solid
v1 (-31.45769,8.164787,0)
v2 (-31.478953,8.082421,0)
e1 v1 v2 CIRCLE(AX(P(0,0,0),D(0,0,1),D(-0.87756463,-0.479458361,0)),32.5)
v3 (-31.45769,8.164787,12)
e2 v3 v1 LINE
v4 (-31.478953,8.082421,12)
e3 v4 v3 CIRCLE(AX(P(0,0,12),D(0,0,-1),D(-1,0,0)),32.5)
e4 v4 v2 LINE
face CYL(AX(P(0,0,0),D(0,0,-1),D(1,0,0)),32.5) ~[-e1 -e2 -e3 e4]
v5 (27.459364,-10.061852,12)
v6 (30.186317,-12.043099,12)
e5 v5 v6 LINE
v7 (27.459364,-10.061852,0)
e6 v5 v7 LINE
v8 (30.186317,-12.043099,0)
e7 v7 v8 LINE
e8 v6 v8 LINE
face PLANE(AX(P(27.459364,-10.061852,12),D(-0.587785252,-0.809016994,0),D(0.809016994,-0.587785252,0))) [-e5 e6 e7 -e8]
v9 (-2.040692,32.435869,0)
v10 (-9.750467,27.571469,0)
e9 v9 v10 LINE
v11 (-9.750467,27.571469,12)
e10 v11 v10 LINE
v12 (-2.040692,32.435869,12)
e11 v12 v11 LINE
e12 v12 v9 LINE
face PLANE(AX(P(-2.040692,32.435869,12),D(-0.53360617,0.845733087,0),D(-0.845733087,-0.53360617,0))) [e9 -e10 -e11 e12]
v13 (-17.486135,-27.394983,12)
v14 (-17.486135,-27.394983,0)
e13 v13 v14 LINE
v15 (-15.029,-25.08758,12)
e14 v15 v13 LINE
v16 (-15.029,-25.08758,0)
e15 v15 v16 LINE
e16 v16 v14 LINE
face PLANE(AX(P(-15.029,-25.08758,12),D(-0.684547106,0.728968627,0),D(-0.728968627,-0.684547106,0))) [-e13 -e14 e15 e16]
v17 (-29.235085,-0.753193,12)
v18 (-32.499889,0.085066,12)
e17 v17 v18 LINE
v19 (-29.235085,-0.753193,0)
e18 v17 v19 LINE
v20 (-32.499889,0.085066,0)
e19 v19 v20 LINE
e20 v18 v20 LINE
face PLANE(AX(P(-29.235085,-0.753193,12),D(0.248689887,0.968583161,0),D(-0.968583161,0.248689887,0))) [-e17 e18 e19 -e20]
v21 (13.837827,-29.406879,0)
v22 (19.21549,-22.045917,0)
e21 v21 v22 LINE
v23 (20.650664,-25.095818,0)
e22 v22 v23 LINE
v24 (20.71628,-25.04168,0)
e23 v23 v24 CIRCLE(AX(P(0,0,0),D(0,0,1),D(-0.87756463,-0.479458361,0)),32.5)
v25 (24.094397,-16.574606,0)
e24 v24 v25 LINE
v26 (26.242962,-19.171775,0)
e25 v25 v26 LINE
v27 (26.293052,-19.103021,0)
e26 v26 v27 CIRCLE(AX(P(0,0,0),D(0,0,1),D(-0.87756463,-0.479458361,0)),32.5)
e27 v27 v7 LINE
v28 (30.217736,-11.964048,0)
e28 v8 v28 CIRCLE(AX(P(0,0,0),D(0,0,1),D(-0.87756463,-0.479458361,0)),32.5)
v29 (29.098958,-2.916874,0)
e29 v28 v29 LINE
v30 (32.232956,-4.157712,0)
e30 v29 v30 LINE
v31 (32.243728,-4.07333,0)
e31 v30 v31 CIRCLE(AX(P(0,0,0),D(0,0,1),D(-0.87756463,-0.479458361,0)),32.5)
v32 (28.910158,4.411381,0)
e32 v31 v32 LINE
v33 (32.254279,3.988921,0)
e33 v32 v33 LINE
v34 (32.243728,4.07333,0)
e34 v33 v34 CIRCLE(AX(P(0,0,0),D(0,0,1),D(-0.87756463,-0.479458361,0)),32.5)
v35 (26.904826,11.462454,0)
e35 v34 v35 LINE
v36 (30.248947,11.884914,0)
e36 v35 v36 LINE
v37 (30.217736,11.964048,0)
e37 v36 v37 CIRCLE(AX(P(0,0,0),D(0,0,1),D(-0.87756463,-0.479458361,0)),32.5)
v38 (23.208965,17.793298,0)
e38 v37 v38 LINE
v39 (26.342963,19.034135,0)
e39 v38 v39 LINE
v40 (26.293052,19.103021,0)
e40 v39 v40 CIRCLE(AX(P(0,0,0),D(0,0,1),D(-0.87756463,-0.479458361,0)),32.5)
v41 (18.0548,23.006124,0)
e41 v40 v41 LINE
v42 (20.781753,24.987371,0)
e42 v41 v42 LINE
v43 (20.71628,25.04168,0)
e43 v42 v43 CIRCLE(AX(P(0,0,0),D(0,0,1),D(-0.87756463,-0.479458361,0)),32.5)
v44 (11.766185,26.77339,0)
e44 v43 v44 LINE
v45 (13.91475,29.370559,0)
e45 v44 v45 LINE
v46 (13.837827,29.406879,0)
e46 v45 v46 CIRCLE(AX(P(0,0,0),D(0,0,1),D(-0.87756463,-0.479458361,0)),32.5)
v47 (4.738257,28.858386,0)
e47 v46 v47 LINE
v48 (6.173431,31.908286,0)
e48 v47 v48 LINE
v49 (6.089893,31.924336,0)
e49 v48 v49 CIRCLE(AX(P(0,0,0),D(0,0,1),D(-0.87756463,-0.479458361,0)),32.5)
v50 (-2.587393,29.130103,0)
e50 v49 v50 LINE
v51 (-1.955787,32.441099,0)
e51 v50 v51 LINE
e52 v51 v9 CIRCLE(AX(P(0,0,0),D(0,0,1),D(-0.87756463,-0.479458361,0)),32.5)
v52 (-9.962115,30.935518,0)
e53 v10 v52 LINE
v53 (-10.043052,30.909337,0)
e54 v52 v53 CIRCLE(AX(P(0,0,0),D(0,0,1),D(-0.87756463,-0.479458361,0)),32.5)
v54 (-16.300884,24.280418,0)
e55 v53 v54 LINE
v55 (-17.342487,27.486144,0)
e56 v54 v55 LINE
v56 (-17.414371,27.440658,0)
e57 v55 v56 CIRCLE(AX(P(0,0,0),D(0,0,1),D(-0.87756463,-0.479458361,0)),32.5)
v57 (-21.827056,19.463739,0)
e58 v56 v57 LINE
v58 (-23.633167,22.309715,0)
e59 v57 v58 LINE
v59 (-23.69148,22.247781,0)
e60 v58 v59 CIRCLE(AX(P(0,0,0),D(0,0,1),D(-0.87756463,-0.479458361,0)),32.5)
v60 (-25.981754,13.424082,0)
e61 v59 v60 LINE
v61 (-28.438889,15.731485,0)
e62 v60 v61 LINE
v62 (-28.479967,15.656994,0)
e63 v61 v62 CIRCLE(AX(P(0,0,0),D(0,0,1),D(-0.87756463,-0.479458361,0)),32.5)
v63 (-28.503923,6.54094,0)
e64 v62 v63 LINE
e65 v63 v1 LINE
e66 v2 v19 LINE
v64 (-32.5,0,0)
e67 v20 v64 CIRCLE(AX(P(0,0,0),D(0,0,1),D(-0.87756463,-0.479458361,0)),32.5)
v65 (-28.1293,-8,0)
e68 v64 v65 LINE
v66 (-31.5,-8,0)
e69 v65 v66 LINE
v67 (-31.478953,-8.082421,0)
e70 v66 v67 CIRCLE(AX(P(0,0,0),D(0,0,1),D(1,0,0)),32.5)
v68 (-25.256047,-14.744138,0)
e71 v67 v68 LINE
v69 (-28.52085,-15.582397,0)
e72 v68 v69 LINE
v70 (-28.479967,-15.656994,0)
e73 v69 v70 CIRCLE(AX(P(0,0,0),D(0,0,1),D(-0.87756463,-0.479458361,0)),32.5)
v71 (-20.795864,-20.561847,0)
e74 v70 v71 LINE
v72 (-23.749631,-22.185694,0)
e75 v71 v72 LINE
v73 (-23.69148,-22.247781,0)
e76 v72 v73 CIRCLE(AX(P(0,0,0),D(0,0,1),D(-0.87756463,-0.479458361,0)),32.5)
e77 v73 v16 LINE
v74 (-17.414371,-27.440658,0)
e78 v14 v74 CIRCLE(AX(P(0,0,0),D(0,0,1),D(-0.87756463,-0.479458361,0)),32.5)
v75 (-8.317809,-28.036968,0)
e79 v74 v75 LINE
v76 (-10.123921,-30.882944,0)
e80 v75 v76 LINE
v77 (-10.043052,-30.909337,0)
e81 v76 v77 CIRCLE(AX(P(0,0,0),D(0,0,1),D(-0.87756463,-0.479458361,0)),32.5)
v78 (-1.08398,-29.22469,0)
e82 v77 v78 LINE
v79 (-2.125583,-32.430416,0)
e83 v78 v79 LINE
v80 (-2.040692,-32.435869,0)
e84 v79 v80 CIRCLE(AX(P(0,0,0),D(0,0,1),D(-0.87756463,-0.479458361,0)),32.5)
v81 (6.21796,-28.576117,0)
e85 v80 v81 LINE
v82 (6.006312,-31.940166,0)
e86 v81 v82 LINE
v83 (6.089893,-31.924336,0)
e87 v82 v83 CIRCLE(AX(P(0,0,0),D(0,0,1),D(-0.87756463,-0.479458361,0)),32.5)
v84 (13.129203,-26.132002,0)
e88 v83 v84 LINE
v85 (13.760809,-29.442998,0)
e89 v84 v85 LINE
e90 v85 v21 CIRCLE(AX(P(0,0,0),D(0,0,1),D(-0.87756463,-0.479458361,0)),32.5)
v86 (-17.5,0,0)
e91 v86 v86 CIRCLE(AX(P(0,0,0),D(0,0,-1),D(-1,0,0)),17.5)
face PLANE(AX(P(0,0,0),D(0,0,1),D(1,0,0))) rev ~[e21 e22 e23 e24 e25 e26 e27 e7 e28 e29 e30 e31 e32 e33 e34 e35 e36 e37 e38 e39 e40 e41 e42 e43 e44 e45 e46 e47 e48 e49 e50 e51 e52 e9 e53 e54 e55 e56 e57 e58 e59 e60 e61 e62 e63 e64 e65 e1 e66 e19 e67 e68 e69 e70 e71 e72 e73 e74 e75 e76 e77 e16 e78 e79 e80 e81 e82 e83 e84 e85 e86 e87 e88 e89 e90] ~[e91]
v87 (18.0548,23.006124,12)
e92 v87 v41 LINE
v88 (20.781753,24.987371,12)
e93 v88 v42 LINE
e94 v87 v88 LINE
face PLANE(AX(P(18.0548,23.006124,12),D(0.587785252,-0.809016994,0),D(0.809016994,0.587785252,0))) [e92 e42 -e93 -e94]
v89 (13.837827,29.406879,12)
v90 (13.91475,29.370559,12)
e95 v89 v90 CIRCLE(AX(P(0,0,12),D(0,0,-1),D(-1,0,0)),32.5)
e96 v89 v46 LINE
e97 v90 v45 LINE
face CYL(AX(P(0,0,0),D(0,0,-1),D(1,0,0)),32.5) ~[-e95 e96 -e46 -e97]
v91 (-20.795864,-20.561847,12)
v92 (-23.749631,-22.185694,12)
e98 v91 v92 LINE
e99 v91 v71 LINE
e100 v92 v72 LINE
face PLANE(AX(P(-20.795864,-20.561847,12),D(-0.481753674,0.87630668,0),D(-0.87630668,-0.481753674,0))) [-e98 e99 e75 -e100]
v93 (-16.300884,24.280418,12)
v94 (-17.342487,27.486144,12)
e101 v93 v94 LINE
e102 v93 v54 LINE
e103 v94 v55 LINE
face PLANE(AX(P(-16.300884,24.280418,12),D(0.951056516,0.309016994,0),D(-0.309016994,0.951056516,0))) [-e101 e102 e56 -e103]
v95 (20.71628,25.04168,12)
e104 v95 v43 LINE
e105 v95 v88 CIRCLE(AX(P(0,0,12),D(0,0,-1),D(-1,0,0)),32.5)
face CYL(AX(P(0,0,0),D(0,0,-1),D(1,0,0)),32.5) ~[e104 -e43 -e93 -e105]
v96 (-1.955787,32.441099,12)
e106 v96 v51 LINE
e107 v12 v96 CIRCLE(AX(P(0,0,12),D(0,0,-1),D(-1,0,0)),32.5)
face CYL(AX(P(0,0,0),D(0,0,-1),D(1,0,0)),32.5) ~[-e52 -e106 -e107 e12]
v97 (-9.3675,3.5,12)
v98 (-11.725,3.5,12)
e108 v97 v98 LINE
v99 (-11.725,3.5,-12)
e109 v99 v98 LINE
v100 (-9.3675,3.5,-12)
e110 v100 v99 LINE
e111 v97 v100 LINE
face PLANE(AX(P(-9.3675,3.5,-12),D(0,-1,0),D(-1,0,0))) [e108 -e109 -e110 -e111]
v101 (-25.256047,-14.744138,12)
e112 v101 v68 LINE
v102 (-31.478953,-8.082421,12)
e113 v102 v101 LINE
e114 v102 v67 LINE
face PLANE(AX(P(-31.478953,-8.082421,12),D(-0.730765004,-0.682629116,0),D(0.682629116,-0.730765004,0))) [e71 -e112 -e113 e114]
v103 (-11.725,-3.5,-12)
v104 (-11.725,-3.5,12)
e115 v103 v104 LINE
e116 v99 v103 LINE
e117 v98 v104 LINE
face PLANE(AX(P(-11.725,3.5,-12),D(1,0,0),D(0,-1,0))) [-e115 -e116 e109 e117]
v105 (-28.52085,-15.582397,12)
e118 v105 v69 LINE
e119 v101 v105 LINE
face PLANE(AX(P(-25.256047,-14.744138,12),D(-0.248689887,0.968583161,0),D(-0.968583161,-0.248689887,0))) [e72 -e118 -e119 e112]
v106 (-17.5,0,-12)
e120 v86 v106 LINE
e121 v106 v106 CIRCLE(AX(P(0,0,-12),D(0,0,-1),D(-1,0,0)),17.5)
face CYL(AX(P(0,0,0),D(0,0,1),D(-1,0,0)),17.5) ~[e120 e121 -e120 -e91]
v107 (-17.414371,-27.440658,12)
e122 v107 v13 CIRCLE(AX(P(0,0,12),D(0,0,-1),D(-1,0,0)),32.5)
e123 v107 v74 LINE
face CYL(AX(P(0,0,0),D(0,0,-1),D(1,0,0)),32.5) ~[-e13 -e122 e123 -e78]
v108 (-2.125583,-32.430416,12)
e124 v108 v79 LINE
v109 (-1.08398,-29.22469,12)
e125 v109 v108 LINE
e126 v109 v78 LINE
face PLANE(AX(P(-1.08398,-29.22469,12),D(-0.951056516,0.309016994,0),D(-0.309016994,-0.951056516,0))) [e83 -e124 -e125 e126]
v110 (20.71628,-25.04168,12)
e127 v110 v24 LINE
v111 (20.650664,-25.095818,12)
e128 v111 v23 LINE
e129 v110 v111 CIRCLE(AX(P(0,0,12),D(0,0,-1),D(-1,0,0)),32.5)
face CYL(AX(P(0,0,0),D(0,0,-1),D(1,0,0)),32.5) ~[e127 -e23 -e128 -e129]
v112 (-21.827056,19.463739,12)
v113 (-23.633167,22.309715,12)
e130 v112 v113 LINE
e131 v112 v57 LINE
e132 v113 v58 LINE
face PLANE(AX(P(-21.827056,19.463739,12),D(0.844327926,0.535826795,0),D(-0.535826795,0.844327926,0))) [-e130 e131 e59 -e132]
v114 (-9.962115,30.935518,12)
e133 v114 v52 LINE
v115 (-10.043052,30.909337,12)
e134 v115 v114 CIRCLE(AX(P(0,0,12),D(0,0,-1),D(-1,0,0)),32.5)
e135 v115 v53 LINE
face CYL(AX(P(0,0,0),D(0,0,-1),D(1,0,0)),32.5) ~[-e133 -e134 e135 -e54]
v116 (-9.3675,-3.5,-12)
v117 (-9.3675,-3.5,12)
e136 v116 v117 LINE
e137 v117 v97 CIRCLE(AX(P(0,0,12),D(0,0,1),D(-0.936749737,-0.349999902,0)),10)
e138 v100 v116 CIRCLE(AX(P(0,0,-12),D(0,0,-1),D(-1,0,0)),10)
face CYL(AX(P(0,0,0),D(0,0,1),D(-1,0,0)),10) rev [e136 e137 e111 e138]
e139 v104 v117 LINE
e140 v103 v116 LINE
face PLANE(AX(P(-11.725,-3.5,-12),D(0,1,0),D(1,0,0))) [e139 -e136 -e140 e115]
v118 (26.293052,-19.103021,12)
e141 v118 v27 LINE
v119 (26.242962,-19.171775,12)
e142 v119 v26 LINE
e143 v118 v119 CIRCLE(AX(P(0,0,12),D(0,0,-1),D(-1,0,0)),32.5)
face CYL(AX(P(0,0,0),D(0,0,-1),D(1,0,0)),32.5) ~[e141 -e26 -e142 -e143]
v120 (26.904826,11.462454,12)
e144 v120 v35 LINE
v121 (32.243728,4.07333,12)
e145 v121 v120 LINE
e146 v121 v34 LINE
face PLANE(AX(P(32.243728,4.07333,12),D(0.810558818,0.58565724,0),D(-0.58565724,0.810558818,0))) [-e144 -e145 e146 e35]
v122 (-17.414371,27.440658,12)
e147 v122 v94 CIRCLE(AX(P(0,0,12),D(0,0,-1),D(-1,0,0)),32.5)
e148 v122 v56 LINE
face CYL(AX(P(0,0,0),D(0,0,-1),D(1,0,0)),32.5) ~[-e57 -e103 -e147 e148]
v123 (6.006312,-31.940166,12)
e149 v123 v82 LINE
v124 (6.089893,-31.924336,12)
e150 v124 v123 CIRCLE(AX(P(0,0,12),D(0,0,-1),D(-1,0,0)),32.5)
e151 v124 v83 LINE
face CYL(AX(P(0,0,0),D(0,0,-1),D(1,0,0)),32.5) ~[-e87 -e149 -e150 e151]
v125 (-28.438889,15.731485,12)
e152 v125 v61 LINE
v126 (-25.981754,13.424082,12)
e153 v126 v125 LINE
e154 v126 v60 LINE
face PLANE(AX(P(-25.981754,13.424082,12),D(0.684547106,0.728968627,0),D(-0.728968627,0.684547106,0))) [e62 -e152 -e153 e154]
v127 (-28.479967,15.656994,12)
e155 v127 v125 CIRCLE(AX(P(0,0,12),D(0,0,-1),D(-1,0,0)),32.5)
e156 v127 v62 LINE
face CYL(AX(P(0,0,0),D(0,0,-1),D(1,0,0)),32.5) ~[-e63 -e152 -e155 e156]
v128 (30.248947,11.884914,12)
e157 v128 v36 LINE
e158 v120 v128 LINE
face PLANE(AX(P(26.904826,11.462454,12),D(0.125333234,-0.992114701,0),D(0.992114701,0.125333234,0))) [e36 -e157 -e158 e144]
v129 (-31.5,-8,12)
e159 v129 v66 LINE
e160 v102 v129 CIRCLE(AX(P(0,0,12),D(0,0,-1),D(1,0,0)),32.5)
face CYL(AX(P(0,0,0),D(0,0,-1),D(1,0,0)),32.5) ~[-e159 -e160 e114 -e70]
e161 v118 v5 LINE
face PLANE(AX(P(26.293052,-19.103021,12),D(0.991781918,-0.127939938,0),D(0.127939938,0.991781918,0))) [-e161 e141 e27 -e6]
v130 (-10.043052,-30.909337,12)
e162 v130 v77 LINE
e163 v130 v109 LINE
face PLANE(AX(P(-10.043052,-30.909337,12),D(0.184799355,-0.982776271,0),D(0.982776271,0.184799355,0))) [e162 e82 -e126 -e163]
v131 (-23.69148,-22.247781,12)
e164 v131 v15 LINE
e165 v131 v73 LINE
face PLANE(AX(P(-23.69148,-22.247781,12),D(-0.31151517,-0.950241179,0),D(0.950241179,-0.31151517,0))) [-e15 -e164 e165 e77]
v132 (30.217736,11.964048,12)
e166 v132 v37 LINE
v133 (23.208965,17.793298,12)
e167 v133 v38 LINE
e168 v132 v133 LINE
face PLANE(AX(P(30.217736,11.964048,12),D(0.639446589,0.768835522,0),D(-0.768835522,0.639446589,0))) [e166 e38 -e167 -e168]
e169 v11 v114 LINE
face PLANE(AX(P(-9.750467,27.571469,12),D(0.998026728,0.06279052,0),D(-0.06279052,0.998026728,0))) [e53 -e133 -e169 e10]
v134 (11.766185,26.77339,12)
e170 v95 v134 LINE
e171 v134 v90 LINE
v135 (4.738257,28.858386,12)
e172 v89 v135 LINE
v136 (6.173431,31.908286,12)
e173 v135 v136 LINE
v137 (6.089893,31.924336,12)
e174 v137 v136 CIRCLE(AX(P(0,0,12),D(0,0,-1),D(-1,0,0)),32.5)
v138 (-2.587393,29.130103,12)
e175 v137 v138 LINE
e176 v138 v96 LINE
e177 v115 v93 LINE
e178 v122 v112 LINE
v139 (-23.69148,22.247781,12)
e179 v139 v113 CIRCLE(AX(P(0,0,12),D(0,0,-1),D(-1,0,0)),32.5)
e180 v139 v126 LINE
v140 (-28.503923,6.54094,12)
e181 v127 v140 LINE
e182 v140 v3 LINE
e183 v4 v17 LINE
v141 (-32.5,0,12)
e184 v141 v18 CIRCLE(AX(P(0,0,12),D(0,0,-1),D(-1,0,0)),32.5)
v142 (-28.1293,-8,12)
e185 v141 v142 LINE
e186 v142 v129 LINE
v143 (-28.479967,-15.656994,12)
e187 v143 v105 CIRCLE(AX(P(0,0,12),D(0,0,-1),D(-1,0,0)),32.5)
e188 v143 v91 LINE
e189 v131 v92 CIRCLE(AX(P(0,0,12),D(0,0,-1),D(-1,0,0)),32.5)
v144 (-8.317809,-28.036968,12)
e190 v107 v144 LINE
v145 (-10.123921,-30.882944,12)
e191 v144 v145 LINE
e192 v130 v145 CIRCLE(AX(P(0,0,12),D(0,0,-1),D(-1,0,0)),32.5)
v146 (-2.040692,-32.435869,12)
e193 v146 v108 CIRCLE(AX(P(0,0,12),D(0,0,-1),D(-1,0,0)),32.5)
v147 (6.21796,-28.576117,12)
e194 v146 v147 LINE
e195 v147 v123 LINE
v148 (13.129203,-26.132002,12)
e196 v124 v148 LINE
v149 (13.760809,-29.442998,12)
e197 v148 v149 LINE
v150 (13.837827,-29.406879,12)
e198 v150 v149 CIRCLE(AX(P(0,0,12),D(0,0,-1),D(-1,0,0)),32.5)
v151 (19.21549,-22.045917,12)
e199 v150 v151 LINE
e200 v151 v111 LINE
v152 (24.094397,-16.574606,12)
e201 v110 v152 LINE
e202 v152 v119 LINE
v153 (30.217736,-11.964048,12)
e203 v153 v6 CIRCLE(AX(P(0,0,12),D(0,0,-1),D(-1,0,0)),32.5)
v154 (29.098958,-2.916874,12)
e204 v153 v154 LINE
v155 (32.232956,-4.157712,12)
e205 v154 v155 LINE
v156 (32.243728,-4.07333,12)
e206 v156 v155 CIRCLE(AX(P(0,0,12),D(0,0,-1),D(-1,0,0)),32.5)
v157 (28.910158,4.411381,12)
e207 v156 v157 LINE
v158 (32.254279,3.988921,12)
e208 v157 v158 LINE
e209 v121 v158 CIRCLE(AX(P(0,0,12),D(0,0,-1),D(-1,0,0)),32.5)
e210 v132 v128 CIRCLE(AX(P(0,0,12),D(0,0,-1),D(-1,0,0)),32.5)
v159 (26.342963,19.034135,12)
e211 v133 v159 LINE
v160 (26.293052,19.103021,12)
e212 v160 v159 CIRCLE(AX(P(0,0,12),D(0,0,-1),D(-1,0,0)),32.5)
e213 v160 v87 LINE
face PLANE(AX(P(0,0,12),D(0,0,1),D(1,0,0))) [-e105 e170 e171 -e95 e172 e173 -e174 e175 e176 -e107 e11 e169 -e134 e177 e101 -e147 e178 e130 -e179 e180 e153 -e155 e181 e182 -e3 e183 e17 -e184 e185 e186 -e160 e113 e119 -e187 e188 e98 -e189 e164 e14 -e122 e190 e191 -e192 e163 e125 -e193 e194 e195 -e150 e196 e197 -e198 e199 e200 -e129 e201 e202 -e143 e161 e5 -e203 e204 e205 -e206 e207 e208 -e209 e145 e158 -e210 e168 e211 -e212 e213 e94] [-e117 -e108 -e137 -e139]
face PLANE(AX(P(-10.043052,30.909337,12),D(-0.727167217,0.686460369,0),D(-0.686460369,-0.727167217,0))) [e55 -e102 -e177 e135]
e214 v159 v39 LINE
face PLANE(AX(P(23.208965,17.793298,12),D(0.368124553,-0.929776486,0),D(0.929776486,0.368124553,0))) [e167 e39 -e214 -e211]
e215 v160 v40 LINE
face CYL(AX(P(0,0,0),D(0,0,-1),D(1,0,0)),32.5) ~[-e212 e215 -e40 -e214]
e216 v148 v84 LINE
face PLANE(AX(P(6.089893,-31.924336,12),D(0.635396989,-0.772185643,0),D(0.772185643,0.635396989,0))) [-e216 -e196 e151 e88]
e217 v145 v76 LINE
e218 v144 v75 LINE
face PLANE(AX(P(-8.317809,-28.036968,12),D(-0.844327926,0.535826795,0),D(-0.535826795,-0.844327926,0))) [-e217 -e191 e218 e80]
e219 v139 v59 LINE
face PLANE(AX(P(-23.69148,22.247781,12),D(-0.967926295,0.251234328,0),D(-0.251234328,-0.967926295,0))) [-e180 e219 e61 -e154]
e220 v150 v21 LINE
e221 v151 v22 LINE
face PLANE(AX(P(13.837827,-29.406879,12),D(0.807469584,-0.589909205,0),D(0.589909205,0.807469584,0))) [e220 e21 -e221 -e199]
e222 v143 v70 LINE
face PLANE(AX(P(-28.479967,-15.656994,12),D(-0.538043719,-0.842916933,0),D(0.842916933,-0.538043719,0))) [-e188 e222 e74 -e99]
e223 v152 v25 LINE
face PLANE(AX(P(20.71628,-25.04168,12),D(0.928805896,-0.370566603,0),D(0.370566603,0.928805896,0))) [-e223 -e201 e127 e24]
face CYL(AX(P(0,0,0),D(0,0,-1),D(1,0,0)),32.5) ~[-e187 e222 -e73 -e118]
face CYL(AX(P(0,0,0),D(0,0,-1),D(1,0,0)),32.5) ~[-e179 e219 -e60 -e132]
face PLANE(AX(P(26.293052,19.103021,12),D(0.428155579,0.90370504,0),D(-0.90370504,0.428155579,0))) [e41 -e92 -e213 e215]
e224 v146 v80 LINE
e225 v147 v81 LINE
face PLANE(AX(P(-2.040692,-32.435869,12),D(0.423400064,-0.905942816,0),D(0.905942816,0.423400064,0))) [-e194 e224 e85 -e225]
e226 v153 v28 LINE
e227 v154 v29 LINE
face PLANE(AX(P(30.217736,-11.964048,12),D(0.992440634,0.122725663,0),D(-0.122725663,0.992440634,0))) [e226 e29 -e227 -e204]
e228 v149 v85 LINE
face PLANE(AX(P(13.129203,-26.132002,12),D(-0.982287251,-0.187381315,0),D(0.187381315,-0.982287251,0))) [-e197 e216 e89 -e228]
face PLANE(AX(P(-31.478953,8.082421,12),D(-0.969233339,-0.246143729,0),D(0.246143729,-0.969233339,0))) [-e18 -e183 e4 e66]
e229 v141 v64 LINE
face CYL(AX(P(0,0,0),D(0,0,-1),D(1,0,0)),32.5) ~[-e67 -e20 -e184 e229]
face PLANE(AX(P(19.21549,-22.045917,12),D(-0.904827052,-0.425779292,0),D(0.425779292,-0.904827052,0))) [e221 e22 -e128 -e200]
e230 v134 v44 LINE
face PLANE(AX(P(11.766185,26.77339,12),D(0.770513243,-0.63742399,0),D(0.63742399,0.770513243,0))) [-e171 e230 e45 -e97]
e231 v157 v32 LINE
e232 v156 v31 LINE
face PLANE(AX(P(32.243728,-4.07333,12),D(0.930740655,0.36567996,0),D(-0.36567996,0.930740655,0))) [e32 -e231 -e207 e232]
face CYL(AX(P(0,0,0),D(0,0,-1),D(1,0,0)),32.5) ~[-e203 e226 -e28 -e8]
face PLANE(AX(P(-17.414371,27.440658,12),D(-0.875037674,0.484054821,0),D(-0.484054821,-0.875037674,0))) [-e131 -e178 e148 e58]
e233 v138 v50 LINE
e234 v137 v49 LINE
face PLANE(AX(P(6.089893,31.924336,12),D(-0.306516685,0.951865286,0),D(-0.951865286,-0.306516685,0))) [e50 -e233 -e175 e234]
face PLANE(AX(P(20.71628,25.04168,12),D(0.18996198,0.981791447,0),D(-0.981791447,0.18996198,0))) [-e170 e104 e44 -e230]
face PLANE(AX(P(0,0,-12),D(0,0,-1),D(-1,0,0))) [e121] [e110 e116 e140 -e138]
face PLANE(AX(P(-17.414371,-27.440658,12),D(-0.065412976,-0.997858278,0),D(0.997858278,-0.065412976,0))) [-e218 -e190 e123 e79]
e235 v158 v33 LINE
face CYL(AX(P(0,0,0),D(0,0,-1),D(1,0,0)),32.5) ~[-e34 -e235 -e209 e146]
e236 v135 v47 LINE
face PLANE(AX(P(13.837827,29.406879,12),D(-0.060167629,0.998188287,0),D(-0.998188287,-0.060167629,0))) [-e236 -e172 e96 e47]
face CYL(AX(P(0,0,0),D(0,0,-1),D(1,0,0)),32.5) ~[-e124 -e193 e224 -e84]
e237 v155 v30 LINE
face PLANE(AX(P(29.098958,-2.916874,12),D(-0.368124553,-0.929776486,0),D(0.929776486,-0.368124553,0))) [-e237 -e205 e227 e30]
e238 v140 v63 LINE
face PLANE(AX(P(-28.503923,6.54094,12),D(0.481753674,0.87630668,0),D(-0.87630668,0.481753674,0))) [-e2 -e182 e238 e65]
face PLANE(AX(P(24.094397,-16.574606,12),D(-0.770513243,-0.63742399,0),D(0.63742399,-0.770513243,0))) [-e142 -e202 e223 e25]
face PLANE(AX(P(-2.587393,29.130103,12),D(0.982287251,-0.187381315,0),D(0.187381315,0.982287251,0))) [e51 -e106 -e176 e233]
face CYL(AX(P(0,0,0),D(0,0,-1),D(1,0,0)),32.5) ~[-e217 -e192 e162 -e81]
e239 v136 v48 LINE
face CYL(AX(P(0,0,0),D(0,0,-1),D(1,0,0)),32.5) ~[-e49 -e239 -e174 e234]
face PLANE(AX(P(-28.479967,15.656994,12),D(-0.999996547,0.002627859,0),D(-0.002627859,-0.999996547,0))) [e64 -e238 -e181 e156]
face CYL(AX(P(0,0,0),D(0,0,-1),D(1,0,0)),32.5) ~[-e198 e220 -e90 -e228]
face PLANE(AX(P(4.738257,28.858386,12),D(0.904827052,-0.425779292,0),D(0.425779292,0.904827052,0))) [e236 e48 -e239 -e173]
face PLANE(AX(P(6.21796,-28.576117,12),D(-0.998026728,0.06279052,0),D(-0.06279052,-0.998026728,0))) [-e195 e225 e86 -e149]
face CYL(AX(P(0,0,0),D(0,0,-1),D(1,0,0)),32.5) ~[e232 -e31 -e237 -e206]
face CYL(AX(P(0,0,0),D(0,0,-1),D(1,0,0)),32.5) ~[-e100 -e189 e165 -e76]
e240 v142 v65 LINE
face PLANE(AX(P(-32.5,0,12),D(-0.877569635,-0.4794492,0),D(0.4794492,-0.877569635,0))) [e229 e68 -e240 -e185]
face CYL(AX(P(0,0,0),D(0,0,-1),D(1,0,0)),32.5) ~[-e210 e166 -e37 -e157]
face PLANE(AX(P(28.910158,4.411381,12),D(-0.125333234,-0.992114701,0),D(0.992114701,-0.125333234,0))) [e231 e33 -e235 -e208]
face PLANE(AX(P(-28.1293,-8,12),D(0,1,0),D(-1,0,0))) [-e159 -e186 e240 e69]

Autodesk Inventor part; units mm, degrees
ref_plane "YZ Plane" through (0, 0, 0) normal (1, 0, 0) x (0, 1, 0)
ref_plane "XZ Plane" through (0, 0, 0) normal (0, 1, 0) x (-1, 0, 0)
ref_plane "XY Plane" through (0, 0, 0) normal (0, 0, 1) x (1, 0, 0)
sketch "Boceto1" plane through (0, 0, 0) normal (0, 0, 1) x (1, 0, 0)
  circle A0 centre (0, 0) radius 32.5
  circle A1 centre (0, 0) radius 10
  line L0 (0, -32.5) -> (0, 0) construction
  line L1 (0, -32.5) -> (-9.058, -23.9422)
  line L2 (-9.058, -23.9422) -> (-10.8513, -30.6349)
  dimension "d0" = 65
  dimension "d1" = 20
  dimension "d4" = 15
extrude "Extrusión1" add sketch "Boceto1" along normal blind 12
sketch "Boceto2" plane through (0, 0, 12) normal (0, 0, 1) x (1, 0, 0)
  line L0 (-32.5, 0) -> (0, 0) construction
  line L1 (-32.5, 0) -> (-28.1293, -8)
  line L2 (-28.1293, -8) -> (-31.5, -8)
  circle A0 centre (0, 0) radius 29.2448 construction
  arc A1 (-32.5, 0) -> (-31.5, -8) centre (0, 0) ccw construction
  arc A2 (-32.5, 0) -> (-31.5, -8) centre (0, 0) ccw construction
  circle A3 centre (0, 0) radius 10 projected
  arc A4 (-32.5, 0) -> (-31.5, -8) centre (0, 0) ccw
  dimension "d5" = 8
  dimension "d7" = 8
  dimension "d22" = 20
extrude "Extrusión2" cut sketch "Boceto2" against normal blind 12 contours L1 L2 A4
pattern_circular "Patrón circular1" count 25 over 360 about axis through (0, 0, -10) along (0, 0, 1) of "Extrusión2"
sketch "Boceto3" plane through (0, 0, 0) normal (0, 0, -1) x (-1, 0, 0)
  circle A0 centre (0, 0) radius 17.5
  circle A1 centre (0, 0) radius 10
  dimension "d13" = 35
  dimension "d23" = 20
extrude "Extrusión3" add sketch "Boceto3" along normal blind 12
sketch "Boceto5" plane through (0, 0, -12) normal (0, 0, -1) x (-1, 0, 0)
  circle A0 centre (0, 0) radius 10 projected
  line L0 (11.725, -3.5) -> (8.275, 3.5) construction
  line L1 (8.275, -3.5) -> (11.725, 3.5) construction
  line L2 (9.3675, 3.5) -> (11.725, 3.5)
  line L3 (11.725, -3.5) -> (9.3675, -3.5)
  arc A1 (9.3675, 3.5) -> (9.3675, -3.5) centre (0, 0) ccw
  line L4 (11.725, 3.5) -> (11.725, -3.5)
  dimension "d24" = 3.45
  dimension "d25" = 7
extrude "Extrusión4" cut sketch "Boceto5" against normal blind 24 contours A0 L2 L4 L3
properties part number "Pieza Propia Ensamblaje - Alison"
